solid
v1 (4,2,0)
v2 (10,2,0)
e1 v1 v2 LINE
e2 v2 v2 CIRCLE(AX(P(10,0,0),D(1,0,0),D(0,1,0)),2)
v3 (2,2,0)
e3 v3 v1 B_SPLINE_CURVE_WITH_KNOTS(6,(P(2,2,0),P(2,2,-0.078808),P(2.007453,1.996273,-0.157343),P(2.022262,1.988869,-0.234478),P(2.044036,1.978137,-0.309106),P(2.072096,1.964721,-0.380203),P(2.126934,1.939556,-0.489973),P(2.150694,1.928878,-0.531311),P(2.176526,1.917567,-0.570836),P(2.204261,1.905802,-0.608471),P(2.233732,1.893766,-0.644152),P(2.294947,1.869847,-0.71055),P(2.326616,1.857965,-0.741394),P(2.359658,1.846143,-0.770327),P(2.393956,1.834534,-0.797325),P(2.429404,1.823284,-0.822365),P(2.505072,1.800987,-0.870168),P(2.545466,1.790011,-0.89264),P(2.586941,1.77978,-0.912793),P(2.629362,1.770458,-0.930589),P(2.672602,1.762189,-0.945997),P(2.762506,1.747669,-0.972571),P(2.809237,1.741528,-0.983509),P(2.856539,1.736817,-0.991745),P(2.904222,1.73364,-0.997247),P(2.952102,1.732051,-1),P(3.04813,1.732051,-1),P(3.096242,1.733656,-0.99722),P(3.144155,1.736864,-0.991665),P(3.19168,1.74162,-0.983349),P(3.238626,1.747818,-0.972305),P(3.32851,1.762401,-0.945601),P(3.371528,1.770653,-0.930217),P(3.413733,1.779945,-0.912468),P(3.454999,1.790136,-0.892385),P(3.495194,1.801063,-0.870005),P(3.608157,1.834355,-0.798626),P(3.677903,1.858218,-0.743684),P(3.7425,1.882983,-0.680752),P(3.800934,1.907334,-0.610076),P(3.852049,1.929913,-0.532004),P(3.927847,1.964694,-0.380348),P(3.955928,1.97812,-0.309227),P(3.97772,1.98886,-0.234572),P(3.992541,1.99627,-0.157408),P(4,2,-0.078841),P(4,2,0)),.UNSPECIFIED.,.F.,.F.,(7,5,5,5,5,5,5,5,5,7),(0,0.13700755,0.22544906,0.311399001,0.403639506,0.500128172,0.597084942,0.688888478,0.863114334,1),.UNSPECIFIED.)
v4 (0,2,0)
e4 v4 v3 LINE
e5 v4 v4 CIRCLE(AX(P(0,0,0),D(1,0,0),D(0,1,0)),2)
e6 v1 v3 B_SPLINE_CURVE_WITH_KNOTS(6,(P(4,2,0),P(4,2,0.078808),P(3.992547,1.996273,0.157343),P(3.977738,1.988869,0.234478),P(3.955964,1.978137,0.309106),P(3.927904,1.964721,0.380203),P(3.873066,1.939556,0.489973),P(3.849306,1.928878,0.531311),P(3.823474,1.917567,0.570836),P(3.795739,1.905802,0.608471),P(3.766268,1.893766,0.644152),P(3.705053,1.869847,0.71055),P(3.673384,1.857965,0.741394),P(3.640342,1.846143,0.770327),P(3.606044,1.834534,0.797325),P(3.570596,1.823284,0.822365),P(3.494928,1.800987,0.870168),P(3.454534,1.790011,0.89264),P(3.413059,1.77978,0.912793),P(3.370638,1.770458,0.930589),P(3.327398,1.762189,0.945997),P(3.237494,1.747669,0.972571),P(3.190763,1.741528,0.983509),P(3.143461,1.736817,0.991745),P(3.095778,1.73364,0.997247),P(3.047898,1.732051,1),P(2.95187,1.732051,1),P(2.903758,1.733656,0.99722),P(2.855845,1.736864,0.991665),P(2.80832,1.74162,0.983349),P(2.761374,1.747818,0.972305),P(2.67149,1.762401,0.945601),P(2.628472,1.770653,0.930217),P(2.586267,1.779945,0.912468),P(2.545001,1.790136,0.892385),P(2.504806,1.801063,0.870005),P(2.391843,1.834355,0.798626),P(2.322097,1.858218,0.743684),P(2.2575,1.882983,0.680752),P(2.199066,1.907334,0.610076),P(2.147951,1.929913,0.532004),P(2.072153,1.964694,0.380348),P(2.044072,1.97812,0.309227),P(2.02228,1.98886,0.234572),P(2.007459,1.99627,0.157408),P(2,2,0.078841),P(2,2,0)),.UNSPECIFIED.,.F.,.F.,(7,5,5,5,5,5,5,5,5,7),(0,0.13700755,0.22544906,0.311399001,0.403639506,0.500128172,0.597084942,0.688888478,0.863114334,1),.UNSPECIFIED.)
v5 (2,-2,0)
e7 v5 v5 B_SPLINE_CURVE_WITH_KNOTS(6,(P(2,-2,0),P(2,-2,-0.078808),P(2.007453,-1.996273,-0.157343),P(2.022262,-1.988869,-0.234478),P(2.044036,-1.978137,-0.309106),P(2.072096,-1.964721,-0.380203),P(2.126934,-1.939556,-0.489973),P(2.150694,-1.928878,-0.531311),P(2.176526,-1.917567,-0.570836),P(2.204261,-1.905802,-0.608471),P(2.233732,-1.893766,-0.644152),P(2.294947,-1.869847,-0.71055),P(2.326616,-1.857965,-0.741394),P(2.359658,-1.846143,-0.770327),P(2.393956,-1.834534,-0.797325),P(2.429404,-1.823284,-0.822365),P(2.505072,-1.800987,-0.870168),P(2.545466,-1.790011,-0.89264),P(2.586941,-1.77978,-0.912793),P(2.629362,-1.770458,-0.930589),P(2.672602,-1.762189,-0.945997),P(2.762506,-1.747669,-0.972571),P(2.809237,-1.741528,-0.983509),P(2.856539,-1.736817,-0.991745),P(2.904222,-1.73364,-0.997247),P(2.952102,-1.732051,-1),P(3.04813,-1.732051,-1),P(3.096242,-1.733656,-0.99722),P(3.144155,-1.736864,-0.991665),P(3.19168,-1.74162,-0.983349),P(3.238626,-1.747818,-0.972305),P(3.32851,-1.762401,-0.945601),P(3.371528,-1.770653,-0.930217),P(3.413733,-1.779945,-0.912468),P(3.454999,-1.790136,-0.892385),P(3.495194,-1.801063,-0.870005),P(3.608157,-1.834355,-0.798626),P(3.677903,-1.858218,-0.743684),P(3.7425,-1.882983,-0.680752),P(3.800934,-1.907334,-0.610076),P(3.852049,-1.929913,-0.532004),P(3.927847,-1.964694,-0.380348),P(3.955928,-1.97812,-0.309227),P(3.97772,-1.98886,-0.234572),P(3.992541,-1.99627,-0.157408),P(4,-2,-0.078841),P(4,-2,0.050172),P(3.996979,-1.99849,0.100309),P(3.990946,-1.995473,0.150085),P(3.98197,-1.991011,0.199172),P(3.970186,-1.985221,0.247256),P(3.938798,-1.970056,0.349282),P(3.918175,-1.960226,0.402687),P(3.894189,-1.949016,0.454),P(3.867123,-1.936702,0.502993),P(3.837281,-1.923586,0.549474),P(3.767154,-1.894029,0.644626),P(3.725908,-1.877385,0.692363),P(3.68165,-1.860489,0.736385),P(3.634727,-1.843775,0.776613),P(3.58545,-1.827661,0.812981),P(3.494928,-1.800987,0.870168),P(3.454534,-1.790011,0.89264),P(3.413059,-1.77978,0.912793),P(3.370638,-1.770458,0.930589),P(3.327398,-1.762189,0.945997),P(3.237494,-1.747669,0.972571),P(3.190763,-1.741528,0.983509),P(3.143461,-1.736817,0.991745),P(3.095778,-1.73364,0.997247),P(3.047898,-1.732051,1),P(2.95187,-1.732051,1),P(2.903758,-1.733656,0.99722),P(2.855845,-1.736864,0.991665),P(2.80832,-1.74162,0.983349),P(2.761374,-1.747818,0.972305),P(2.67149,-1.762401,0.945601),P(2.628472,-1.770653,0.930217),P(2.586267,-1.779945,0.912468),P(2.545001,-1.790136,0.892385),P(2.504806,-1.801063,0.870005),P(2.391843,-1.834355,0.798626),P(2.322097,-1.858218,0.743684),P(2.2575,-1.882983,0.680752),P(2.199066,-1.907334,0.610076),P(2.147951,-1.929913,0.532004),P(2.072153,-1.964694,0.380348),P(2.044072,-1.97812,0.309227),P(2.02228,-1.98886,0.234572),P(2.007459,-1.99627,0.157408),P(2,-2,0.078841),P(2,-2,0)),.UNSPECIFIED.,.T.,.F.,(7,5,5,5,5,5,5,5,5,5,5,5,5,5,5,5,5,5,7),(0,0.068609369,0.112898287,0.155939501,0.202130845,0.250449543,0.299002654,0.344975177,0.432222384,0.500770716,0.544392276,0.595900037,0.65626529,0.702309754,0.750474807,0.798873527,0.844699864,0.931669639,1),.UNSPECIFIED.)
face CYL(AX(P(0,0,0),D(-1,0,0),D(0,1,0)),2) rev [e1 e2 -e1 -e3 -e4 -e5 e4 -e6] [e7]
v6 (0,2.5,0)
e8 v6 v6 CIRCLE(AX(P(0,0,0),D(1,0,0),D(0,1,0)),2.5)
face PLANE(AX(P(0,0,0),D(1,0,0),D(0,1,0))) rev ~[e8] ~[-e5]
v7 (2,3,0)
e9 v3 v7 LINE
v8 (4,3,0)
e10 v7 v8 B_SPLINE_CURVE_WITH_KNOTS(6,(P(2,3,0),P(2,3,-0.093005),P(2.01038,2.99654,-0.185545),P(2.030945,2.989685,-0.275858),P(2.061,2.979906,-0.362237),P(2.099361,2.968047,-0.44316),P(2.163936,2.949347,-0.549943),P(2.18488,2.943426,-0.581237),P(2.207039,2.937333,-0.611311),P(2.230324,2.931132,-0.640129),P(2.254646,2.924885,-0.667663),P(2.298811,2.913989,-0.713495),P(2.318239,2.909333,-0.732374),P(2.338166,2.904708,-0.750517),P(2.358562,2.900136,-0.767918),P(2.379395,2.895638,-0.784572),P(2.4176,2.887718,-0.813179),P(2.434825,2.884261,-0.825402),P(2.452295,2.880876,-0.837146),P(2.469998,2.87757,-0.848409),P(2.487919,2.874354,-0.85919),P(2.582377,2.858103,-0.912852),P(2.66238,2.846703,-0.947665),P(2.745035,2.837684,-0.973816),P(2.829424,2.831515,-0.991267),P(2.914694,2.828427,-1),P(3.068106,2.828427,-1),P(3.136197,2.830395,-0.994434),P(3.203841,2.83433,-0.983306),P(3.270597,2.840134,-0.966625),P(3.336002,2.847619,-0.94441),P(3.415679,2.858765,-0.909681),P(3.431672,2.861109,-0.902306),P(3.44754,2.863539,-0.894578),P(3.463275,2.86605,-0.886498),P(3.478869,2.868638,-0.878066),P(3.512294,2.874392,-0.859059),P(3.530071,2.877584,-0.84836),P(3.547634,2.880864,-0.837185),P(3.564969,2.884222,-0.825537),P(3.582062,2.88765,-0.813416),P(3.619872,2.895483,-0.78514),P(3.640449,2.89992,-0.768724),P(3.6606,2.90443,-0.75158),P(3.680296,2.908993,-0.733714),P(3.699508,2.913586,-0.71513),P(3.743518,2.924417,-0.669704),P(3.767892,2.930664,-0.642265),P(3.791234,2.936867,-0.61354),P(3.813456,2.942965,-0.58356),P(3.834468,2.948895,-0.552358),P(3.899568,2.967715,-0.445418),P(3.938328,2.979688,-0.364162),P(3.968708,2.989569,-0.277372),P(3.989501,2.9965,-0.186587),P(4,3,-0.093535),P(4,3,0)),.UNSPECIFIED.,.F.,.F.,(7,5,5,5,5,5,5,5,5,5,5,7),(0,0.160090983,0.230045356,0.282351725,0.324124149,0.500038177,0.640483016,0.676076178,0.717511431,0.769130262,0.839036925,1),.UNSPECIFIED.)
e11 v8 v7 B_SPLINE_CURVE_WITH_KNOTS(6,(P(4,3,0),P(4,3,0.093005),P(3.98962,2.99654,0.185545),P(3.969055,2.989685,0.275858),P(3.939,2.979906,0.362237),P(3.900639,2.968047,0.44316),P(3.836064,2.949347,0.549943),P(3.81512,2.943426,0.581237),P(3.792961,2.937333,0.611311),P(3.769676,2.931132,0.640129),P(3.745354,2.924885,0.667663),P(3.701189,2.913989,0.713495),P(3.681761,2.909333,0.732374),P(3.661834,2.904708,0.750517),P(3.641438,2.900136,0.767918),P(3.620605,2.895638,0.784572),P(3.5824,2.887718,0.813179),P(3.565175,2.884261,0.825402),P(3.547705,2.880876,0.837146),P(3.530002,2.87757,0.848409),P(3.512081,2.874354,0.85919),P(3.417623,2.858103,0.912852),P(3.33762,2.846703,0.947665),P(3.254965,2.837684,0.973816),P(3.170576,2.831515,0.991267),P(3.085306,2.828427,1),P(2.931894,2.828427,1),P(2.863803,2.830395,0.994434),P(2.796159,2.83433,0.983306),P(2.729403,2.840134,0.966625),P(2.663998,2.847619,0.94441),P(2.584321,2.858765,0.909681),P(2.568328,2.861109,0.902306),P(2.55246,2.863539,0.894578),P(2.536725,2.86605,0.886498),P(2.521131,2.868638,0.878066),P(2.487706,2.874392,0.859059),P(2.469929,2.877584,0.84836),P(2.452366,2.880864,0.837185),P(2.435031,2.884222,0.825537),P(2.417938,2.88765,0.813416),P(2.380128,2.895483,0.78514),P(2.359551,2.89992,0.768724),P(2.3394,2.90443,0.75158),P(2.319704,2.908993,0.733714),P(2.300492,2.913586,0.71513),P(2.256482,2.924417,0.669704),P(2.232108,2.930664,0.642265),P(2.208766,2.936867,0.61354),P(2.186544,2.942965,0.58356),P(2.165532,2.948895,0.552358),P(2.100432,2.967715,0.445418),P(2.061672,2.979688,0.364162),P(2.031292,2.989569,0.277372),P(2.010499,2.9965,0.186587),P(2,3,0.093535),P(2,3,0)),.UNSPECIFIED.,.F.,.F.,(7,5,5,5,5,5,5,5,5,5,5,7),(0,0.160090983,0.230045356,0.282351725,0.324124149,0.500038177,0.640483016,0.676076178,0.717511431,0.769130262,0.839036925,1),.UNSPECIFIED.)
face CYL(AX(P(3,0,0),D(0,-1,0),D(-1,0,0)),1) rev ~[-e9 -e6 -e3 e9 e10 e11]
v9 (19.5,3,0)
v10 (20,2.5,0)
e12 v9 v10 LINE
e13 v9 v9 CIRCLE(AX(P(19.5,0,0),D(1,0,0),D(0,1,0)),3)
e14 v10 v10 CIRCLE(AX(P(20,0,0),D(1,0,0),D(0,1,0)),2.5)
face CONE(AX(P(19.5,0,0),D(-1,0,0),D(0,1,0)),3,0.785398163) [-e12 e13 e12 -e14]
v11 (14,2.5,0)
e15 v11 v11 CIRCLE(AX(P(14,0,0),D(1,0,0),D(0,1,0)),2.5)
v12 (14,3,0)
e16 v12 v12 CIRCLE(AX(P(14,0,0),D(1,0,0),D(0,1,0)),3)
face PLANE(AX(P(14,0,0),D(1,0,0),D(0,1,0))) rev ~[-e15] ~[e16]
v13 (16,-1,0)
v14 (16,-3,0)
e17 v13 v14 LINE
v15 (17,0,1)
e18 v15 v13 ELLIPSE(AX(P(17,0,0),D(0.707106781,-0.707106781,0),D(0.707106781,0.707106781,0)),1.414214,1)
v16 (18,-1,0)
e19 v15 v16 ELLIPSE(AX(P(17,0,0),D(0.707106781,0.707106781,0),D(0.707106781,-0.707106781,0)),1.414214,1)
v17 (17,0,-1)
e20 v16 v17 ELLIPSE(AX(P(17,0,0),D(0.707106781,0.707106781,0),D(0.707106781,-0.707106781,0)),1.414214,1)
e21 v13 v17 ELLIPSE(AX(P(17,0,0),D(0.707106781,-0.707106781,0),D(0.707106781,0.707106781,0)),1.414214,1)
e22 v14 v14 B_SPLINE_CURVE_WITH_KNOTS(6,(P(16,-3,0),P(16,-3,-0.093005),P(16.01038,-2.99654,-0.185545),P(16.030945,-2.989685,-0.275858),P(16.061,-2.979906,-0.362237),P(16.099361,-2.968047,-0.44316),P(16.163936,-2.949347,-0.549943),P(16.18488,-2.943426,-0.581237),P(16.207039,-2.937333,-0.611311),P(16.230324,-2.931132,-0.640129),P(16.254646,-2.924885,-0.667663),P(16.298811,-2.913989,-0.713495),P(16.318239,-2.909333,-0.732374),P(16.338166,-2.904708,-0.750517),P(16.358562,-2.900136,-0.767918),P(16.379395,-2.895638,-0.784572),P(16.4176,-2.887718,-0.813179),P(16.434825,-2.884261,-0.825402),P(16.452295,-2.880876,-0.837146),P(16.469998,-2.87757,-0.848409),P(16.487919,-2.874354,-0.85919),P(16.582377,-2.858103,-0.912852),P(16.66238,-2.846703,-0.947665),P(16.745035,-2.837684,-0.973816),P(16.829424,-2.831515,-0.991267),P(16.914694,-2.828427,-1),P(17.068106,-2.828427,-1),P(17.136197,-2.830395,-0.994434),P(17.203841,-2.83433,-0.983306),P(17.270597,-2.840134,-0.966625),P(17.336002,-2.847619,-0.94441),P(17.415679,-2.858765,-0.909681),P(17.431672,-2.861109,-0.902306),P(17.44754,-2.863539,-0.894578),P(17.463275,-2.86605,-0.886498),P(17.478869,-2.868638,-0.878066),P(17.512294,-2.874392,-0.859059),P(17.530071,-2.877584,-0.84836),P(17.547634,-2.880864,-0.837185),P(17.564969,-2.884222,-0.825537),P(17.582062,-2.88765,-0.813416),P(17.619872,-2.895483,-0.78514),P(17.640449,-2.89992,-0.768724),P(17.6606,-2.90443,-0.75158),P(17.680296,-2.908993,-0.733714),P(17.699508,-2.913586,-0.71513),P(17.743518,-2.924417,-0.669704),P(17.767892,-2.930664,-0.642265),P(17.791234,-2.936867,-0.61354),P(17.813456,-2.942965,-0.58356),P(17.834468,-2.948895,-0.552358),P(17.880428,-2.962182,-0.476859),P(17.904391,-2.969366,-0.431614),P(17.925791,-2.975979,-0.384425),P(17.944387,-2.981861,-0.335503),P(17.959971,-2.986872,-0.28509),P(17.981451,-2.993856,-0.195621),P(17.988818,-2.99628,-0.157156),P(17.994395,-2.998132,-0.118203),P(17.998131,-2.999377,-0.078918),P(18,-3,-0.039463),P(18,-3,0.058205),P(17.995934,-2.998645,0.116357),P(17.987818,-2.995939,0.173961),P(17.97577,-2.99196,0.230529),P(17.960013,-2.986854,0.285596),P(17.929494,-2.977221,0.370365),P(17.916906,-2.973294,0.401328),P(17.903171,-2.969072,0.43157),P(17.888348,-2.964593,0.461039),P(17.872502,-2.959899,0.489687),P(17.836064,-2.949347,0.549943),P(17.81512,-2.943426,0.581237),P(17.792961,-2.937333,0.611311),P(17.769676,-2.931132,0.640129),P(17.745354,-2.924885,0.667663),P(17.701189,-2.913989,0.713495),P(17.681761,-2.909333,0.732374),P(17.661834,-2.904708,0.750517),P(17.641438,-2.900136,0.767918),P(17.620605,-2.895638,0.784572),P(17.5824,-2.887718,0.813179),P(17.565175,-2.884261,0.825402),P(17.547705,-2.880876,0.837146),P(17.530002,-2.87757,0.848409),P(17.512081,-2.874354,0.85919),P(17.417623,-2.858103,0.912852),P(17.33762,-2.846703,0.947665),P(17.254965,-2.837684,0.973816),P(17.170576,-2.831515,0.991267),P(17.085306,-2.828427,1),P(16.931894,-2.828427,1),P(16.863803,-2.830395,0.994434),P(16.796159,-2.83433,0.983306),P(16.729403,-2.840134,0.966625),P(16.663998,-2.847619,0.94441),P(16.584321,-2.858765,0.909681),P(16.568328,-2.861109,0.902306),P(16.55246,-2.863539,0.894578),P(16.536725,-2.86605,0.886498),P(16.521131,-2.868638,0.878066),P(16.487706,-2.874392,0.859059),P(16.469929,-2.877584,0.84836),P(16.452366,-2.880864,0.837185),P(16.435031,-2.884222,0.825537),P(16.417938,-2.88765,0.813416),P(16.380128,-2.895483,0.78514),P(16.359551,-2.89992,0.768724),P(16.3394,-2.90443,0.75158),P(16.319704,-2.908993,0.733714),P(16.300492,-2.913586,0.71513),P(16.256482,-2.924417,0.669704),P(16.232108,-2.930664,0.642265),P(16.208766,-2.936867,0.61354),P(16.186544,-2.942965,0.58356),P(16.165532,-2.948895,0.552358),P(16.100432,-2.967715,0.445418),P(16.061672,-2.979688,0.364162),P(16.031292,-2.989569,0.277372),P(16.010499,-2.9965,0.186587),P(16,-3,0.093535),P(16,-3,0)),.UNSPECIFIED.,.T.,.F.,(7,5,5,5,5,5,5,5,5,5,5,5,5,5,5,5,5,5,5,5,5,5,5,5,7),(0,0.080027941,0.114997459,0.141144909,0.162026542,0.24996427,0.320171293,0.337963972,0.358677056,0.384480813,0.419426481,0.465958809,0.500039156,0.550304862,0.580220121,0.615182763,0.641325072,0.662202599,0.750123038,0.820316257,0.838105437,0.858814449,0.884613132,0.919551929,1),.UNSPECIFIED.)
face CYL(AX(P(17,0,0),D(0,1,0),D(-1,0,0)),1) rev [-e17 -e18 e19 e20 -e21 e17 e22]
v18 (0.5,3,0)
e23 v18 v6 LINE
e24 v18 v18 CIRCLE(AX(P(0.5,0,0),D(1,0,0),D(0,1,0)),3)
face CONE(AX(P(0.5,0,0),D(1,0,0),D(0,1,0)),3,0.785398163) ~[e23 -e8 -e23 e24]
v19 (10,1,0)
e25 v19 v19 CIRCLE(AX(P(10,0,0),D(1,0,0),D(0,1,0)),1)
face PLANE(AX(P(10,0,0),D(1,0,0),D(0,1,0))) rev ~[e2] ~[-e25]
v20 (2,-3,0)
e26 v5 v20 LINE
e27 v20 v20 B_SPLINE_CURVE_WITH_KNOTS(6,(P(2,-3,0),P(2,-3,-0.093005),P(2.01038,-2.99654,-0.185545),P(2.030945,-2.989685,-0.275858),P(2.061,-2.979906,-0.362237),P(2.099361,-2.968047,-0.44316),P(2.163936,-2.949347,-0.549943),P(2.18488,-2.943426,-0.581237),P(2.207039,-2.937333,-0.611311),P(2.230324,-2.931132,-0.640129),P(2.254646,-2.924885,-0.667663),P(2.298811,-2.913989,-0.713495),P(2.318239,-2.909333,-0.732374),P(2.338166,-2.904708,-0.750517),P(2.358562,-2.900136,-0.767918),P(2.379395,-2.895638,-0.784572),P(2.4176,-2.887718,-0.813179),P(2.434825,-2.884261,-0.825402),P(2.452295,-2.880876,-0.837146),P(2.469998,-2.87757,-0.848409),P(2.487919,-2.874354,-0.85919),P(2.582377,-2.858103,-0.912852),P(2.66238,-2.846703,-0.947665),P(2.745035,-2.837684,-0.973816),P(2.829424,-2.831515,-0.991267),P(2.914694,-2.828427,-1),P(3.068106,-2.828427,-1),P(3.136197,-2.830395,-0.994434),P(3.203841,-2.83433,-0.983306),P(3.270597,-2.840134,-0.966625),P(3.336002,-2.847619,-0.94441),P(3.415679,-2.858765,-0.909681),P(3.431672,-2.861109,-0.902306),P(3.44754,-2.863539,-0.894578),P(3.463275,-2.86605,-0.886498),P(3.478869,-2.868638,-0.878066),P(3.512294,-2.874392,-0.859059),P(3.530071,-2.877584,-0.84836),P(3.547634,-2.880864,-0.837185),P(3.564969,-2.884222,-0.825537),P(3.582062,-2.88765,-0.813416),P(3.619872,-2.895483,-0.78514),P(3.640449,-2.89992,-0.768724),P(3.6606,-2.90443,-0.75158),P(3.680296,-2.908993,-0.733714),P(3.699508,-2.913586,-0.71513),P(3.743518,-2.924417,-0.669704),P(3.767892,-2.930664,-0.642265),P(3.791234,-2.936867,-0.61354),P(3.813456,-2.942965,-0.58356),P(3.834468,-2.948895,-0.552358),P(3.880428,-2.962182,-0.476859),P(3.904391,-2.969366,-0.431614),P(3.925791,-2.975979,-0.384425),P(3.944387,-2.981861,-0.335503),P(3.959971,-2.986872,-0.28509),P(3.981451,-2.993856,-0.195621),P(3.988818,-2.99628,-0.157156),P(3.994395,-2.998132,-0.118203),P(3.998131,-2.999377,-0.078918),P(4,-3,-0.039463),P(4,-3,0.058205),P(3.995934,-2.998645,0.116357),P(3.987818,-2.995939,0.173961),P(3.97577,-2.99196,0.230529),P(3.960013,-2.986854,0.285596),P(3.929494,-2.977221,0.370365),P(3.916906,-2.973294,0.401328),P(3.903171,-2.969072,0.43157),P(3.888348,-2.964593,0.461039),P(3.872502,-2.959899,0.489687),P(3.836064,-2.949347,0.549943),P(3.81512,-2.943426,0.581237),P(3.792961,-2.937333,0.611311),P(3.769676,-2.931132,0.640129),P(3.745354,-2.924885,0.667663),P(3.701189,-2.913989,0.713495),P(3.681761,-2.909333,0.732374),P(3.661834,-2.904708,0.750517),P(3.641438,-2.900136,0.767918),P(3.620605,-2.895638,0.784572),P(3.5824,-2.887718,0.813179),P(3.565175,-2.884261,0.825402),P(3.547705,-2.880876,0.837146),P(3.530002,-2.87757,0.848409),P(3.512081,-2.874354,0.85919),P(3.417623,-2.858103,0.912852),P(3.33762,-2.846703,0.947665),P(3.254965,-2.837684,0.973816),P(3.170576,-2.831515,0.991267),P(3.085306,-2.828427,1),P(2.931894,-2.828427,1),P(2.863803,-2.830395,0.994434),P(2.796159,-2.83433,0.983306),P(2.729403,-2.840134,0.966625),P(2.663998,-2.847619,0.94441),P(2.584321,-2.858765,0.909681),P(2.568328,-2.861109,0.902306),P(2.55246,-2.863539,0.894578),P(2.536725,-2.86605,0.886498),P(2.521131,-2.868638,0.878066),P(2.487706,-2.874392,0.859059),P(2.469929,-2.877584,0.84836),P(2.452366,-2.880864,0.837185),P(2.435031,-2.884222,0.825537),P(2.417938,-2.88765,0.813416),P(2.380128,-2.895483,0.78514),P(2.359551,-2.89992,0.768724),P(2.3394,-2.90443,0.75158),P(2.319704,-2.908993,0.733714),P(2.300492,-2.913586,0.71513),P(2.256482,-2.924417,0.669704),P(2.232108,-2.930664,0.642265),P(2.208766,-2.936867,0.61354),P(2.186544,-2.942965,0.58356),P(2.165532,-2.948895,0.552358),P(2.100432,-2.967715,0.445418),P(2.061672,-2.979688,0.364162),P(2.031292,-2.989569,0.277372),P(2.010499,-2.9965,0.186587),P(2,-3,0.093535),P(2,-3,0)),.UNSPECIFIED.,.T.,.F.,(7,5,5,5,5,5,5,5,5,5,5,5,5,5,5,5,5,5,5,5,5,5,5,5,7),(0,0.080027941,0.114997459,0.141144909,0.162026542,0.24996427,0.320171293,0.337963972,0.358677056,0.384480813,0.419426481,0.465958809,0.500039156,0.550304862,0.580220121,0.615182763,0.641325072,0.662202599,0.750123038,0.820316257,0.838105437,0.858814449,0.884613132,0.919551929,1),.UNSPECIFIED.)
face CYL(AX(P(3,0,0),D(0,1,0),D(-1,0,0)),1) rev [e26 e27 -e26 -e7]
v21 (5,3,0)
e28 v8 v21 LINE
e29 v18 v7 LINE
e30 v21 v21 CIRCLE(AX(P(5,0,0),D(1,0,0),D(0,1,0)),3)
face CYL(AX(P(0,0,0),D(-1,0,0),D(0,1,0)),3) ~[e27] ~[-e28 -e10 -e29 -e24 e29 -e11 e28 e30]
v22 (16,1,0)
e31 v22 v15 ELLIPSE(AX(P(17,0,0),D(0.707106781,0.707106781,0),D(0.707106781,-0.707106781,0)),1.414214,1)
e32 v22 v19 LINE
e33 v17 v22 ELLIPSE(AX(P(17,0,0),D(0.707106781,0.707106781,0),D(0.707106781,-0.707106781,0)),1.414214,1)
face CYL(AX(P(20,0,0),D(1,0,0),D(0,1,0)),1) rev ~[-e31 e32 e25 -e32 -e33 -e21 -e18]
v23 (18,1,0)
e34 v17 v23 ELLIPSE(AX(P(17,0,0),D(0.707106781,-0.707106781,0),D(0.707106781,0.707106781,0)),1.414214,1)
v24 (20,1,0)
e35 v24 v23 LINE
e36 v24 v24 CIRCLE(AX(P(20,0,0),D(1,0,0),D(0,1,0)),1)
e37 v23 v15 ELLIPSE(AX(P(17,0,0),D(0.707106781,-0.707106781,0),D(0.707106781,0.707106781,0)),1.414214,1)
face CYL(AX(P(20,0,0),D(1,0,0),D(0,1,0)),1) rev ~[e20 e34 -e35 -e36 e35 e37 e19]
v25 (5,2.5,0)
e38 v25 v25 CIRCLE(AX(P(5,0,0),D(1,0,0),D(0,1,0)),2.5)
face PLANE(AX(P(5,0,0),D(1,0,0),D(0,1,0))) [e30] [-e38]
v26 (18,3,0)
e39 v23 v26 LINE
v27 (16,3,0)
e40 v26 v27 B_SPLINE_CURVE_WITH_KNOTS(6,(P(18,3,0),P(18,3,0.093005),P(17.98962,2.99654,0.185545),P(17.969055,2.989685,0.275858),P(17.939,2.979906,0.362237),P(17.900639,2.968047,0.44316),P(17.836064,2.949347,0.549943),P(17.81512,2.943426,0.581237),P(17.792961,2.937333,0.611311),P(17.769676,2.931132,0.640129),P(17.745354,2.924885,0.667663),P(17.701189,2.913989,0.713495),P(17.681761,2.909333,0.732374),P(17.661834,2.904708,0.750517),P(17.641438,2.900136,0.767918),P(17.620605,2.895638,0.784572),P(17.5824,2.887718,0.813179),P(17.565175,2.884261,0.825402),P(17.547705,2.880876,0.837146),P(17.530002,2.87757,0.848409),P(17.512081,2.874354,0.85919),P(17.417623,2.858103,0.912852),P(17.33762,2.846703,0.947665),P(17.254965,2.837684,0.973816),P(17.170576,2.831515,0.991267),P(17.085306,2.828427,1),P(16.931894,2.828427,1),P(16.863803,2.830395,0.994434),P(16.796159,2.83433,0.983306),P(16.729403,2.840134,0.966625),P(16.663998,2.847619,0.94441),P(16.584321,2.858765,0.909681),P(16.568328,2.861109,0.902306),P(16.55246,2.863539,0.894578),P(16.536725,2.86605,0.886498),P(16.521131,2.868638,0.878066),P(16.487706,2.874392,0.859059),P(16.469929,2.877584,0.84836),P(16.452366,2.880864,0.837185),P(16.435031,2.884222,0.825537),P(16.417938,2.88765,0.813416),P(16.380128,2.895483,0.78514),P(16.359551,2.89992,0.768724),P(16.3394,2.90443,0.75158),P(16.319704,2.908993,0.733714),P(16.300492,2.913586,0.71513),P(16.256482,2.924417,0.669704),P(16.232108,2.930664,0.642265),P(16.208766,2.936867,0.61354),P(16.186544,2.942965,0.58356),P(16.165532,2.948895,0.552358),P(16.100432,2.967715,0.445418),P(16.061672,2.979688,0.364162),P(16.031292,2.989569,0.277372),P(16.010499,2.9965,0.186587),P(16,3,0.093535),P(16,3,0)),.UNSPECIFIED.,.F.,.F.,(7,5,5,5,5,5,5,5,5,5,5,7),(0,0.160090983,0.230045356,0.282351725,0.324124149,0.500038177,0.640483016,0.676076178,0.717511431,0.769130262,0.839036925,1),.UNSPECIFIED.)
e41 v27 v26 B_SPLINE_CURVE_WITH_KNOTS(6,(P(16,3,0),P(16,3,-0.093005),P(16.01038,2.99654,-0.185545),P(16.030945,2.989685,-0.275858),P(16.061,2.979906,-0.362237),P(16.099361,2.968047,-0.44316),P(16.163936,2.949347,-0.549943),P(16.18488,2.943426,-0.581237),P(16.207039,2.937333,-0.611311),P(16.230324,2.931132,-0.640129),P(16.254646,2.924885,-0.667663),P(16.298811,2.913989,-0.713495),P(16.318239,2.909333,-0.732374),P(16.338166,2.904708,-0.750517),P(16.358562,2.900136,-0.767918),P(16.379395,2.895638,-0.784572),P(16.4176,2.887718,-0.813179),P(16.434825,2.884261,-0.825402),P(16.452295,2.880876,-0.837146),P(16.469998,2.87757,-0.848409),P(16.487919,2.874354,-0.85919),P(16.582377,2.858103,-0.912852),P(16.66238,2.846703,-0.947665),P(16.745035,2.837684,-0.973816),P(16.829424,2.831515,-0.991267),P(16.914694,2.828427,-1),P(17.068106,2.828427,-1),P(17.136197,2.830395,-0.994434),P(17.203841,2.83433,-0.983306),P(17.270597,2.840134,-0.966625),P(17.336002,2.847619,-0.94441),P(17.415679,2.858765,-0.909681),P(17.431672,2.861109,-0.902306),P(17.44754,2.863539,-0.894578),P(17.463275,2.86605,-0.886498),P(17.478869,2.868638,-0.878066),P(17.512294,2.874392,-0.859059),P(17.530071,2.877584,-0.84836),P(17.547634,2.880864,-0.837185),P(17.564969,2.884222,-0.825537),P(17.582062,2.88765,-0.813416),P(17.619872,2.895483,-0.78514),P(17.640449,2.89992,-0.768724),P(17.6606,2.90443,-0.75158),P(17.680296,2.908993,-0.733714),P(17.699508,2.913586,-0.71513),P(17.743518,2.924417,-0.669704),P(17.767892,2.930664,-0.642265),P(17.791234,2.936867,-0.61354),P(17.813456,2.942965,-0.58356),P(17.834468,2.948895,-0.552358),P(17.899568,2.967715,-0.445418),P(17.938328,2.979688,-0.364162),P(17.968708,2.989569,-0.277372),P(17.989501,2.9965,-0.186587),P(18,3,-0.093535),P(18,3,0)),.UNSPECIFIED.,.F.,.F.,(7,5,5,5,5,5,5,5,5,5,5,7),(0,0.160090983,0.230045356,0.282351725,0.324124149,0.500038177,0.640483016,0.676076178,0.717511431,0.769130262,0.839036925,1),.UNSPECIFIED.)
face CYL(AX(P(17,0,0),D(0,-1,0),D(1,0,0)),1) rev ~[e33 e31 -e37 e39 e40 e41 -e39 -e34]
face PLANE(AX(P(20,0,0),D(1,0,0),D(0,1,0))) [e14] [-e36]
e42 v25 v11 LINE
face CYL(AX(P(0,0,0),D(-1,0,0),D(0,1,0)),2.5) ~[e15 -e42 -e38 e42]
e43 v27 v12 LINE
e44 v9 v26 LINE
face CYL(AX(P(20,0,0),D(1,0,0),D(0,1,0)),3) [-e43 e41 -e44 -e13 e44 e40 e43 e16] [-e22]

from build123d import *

# Parameters (mm, degrees)
F0_R      = 2.5
F0_R_2    = 2
F1_DEPTH  = 20
F0_R_3    = 3
F2_DEPTH  = 5
F3_DEPTH  = 10
F4_R      = 3
F4_R_2    = 2.5
F5_DEPTH  = 6
F4_R_3    = 1
F6_DEPTH  = 10
F7_SIZE   = 0.5
F9_DEPTH  = 25
F10_DEPTH = 25


with BuildPart() as f1:
    # F0 (on Right) → F1 (new body)
    with BuildSketch(Plane.YZ):
        Circle(F0_R)
        Circle(F0_R_2, mode=Mode.SUBTRACT)
        Circle(F0_R_2)
    extrude(amount=F1_DEPTH)

    # F0 (on Right) → F2 (join)
    with BuildSketch(Plane.YZ):
        Circle(F0_R_3)
        Circle(F0_R, mode=Mode.SUBTRACT)
    extrude(amount=F2_DEPTH)

    # F0 (on Right) → F3 (cut)
    with BuildSketch(Plane.YZ):
        Circle(F0_R_2)
    extrude(amount=F3_DEPTH, mode=Mode.SUBTRACT)

    # F4 (on face) → F5 (join)
    with BuildSketch(Plane.YZ.offset(20)):
        Circle(F4_R)
        Circle(F4_R_2, mode=Mode.SUBTRACT)
    extrude(amount=-F5_DEPTH)

    # F4 (on face) → F6 (cut)
    with BuildSketch(Plane.YZ.offset(20)):
        Circle(F4_R_3)
    extrude(amount=-F6_DEPTH, mode=Mode.SUBTRACT)

    # F7
    f7_edges = [f1.edges().sort_by_distance(p)[0] for p in [
        (20, -3, 0),
        (0, -3, 0),
    ]]
    chamfer(f7_edges, length=F7_SIZE)

    # F8 (on Front) → F9 (cut)
    with BuildSketch(Plane.XZ):
        with BuildLine():
            ThreePointArc((4, 0), (3, 1), (2, 0))
            Line((2, 0), (4, 0))
        make_face()
        with BuildLine():
            Line((4, 0), (2, 0))
            ThreePointArc((2, 0), (3, -1), (4, 0))
        make_face()
        with BuildLine():
            Line((18, 0), (16, 0))
            ThreePointArc((16, 0), (17, -1), (18, 0))
        make_face()
        with BuildLine():
            ThreePointArc((18, 0), (17, 1), (16, 0))
            Line((16, 0), (18, 0))
        make_face()
    extrude(amount=-F9_DEPTH, mode=Mode.SUBTRACT)

    # F8 (on Front) → F10 (cut)
    with BuildSketch(Plane.XZ):
        with BuildLine():
            ThreePointArc((18, 0), (17, 1), (16, 0))
            Line((16, 0), (18, 0))
        make_face()
        with BuildLine():
            Line((18, 0), (16, 0))
            ThreePointArc((16, 0), (17, -1), (18, 0))
        make_face()
        with BuildLine():
            ThreePointArc((4, 0), (3, 1), (2, 0))
            Line((2, 0), (4, 0))
        make_face()
        with BuildLine():
            Line((4, 0), (2, 0))
            ThreePointArc((2, 0), (3, -1), (4, 0))
        make_face()
    extrude(amount=F10_DEPTH, mode=Mode.SUBTRACT)


solid = f1.part
